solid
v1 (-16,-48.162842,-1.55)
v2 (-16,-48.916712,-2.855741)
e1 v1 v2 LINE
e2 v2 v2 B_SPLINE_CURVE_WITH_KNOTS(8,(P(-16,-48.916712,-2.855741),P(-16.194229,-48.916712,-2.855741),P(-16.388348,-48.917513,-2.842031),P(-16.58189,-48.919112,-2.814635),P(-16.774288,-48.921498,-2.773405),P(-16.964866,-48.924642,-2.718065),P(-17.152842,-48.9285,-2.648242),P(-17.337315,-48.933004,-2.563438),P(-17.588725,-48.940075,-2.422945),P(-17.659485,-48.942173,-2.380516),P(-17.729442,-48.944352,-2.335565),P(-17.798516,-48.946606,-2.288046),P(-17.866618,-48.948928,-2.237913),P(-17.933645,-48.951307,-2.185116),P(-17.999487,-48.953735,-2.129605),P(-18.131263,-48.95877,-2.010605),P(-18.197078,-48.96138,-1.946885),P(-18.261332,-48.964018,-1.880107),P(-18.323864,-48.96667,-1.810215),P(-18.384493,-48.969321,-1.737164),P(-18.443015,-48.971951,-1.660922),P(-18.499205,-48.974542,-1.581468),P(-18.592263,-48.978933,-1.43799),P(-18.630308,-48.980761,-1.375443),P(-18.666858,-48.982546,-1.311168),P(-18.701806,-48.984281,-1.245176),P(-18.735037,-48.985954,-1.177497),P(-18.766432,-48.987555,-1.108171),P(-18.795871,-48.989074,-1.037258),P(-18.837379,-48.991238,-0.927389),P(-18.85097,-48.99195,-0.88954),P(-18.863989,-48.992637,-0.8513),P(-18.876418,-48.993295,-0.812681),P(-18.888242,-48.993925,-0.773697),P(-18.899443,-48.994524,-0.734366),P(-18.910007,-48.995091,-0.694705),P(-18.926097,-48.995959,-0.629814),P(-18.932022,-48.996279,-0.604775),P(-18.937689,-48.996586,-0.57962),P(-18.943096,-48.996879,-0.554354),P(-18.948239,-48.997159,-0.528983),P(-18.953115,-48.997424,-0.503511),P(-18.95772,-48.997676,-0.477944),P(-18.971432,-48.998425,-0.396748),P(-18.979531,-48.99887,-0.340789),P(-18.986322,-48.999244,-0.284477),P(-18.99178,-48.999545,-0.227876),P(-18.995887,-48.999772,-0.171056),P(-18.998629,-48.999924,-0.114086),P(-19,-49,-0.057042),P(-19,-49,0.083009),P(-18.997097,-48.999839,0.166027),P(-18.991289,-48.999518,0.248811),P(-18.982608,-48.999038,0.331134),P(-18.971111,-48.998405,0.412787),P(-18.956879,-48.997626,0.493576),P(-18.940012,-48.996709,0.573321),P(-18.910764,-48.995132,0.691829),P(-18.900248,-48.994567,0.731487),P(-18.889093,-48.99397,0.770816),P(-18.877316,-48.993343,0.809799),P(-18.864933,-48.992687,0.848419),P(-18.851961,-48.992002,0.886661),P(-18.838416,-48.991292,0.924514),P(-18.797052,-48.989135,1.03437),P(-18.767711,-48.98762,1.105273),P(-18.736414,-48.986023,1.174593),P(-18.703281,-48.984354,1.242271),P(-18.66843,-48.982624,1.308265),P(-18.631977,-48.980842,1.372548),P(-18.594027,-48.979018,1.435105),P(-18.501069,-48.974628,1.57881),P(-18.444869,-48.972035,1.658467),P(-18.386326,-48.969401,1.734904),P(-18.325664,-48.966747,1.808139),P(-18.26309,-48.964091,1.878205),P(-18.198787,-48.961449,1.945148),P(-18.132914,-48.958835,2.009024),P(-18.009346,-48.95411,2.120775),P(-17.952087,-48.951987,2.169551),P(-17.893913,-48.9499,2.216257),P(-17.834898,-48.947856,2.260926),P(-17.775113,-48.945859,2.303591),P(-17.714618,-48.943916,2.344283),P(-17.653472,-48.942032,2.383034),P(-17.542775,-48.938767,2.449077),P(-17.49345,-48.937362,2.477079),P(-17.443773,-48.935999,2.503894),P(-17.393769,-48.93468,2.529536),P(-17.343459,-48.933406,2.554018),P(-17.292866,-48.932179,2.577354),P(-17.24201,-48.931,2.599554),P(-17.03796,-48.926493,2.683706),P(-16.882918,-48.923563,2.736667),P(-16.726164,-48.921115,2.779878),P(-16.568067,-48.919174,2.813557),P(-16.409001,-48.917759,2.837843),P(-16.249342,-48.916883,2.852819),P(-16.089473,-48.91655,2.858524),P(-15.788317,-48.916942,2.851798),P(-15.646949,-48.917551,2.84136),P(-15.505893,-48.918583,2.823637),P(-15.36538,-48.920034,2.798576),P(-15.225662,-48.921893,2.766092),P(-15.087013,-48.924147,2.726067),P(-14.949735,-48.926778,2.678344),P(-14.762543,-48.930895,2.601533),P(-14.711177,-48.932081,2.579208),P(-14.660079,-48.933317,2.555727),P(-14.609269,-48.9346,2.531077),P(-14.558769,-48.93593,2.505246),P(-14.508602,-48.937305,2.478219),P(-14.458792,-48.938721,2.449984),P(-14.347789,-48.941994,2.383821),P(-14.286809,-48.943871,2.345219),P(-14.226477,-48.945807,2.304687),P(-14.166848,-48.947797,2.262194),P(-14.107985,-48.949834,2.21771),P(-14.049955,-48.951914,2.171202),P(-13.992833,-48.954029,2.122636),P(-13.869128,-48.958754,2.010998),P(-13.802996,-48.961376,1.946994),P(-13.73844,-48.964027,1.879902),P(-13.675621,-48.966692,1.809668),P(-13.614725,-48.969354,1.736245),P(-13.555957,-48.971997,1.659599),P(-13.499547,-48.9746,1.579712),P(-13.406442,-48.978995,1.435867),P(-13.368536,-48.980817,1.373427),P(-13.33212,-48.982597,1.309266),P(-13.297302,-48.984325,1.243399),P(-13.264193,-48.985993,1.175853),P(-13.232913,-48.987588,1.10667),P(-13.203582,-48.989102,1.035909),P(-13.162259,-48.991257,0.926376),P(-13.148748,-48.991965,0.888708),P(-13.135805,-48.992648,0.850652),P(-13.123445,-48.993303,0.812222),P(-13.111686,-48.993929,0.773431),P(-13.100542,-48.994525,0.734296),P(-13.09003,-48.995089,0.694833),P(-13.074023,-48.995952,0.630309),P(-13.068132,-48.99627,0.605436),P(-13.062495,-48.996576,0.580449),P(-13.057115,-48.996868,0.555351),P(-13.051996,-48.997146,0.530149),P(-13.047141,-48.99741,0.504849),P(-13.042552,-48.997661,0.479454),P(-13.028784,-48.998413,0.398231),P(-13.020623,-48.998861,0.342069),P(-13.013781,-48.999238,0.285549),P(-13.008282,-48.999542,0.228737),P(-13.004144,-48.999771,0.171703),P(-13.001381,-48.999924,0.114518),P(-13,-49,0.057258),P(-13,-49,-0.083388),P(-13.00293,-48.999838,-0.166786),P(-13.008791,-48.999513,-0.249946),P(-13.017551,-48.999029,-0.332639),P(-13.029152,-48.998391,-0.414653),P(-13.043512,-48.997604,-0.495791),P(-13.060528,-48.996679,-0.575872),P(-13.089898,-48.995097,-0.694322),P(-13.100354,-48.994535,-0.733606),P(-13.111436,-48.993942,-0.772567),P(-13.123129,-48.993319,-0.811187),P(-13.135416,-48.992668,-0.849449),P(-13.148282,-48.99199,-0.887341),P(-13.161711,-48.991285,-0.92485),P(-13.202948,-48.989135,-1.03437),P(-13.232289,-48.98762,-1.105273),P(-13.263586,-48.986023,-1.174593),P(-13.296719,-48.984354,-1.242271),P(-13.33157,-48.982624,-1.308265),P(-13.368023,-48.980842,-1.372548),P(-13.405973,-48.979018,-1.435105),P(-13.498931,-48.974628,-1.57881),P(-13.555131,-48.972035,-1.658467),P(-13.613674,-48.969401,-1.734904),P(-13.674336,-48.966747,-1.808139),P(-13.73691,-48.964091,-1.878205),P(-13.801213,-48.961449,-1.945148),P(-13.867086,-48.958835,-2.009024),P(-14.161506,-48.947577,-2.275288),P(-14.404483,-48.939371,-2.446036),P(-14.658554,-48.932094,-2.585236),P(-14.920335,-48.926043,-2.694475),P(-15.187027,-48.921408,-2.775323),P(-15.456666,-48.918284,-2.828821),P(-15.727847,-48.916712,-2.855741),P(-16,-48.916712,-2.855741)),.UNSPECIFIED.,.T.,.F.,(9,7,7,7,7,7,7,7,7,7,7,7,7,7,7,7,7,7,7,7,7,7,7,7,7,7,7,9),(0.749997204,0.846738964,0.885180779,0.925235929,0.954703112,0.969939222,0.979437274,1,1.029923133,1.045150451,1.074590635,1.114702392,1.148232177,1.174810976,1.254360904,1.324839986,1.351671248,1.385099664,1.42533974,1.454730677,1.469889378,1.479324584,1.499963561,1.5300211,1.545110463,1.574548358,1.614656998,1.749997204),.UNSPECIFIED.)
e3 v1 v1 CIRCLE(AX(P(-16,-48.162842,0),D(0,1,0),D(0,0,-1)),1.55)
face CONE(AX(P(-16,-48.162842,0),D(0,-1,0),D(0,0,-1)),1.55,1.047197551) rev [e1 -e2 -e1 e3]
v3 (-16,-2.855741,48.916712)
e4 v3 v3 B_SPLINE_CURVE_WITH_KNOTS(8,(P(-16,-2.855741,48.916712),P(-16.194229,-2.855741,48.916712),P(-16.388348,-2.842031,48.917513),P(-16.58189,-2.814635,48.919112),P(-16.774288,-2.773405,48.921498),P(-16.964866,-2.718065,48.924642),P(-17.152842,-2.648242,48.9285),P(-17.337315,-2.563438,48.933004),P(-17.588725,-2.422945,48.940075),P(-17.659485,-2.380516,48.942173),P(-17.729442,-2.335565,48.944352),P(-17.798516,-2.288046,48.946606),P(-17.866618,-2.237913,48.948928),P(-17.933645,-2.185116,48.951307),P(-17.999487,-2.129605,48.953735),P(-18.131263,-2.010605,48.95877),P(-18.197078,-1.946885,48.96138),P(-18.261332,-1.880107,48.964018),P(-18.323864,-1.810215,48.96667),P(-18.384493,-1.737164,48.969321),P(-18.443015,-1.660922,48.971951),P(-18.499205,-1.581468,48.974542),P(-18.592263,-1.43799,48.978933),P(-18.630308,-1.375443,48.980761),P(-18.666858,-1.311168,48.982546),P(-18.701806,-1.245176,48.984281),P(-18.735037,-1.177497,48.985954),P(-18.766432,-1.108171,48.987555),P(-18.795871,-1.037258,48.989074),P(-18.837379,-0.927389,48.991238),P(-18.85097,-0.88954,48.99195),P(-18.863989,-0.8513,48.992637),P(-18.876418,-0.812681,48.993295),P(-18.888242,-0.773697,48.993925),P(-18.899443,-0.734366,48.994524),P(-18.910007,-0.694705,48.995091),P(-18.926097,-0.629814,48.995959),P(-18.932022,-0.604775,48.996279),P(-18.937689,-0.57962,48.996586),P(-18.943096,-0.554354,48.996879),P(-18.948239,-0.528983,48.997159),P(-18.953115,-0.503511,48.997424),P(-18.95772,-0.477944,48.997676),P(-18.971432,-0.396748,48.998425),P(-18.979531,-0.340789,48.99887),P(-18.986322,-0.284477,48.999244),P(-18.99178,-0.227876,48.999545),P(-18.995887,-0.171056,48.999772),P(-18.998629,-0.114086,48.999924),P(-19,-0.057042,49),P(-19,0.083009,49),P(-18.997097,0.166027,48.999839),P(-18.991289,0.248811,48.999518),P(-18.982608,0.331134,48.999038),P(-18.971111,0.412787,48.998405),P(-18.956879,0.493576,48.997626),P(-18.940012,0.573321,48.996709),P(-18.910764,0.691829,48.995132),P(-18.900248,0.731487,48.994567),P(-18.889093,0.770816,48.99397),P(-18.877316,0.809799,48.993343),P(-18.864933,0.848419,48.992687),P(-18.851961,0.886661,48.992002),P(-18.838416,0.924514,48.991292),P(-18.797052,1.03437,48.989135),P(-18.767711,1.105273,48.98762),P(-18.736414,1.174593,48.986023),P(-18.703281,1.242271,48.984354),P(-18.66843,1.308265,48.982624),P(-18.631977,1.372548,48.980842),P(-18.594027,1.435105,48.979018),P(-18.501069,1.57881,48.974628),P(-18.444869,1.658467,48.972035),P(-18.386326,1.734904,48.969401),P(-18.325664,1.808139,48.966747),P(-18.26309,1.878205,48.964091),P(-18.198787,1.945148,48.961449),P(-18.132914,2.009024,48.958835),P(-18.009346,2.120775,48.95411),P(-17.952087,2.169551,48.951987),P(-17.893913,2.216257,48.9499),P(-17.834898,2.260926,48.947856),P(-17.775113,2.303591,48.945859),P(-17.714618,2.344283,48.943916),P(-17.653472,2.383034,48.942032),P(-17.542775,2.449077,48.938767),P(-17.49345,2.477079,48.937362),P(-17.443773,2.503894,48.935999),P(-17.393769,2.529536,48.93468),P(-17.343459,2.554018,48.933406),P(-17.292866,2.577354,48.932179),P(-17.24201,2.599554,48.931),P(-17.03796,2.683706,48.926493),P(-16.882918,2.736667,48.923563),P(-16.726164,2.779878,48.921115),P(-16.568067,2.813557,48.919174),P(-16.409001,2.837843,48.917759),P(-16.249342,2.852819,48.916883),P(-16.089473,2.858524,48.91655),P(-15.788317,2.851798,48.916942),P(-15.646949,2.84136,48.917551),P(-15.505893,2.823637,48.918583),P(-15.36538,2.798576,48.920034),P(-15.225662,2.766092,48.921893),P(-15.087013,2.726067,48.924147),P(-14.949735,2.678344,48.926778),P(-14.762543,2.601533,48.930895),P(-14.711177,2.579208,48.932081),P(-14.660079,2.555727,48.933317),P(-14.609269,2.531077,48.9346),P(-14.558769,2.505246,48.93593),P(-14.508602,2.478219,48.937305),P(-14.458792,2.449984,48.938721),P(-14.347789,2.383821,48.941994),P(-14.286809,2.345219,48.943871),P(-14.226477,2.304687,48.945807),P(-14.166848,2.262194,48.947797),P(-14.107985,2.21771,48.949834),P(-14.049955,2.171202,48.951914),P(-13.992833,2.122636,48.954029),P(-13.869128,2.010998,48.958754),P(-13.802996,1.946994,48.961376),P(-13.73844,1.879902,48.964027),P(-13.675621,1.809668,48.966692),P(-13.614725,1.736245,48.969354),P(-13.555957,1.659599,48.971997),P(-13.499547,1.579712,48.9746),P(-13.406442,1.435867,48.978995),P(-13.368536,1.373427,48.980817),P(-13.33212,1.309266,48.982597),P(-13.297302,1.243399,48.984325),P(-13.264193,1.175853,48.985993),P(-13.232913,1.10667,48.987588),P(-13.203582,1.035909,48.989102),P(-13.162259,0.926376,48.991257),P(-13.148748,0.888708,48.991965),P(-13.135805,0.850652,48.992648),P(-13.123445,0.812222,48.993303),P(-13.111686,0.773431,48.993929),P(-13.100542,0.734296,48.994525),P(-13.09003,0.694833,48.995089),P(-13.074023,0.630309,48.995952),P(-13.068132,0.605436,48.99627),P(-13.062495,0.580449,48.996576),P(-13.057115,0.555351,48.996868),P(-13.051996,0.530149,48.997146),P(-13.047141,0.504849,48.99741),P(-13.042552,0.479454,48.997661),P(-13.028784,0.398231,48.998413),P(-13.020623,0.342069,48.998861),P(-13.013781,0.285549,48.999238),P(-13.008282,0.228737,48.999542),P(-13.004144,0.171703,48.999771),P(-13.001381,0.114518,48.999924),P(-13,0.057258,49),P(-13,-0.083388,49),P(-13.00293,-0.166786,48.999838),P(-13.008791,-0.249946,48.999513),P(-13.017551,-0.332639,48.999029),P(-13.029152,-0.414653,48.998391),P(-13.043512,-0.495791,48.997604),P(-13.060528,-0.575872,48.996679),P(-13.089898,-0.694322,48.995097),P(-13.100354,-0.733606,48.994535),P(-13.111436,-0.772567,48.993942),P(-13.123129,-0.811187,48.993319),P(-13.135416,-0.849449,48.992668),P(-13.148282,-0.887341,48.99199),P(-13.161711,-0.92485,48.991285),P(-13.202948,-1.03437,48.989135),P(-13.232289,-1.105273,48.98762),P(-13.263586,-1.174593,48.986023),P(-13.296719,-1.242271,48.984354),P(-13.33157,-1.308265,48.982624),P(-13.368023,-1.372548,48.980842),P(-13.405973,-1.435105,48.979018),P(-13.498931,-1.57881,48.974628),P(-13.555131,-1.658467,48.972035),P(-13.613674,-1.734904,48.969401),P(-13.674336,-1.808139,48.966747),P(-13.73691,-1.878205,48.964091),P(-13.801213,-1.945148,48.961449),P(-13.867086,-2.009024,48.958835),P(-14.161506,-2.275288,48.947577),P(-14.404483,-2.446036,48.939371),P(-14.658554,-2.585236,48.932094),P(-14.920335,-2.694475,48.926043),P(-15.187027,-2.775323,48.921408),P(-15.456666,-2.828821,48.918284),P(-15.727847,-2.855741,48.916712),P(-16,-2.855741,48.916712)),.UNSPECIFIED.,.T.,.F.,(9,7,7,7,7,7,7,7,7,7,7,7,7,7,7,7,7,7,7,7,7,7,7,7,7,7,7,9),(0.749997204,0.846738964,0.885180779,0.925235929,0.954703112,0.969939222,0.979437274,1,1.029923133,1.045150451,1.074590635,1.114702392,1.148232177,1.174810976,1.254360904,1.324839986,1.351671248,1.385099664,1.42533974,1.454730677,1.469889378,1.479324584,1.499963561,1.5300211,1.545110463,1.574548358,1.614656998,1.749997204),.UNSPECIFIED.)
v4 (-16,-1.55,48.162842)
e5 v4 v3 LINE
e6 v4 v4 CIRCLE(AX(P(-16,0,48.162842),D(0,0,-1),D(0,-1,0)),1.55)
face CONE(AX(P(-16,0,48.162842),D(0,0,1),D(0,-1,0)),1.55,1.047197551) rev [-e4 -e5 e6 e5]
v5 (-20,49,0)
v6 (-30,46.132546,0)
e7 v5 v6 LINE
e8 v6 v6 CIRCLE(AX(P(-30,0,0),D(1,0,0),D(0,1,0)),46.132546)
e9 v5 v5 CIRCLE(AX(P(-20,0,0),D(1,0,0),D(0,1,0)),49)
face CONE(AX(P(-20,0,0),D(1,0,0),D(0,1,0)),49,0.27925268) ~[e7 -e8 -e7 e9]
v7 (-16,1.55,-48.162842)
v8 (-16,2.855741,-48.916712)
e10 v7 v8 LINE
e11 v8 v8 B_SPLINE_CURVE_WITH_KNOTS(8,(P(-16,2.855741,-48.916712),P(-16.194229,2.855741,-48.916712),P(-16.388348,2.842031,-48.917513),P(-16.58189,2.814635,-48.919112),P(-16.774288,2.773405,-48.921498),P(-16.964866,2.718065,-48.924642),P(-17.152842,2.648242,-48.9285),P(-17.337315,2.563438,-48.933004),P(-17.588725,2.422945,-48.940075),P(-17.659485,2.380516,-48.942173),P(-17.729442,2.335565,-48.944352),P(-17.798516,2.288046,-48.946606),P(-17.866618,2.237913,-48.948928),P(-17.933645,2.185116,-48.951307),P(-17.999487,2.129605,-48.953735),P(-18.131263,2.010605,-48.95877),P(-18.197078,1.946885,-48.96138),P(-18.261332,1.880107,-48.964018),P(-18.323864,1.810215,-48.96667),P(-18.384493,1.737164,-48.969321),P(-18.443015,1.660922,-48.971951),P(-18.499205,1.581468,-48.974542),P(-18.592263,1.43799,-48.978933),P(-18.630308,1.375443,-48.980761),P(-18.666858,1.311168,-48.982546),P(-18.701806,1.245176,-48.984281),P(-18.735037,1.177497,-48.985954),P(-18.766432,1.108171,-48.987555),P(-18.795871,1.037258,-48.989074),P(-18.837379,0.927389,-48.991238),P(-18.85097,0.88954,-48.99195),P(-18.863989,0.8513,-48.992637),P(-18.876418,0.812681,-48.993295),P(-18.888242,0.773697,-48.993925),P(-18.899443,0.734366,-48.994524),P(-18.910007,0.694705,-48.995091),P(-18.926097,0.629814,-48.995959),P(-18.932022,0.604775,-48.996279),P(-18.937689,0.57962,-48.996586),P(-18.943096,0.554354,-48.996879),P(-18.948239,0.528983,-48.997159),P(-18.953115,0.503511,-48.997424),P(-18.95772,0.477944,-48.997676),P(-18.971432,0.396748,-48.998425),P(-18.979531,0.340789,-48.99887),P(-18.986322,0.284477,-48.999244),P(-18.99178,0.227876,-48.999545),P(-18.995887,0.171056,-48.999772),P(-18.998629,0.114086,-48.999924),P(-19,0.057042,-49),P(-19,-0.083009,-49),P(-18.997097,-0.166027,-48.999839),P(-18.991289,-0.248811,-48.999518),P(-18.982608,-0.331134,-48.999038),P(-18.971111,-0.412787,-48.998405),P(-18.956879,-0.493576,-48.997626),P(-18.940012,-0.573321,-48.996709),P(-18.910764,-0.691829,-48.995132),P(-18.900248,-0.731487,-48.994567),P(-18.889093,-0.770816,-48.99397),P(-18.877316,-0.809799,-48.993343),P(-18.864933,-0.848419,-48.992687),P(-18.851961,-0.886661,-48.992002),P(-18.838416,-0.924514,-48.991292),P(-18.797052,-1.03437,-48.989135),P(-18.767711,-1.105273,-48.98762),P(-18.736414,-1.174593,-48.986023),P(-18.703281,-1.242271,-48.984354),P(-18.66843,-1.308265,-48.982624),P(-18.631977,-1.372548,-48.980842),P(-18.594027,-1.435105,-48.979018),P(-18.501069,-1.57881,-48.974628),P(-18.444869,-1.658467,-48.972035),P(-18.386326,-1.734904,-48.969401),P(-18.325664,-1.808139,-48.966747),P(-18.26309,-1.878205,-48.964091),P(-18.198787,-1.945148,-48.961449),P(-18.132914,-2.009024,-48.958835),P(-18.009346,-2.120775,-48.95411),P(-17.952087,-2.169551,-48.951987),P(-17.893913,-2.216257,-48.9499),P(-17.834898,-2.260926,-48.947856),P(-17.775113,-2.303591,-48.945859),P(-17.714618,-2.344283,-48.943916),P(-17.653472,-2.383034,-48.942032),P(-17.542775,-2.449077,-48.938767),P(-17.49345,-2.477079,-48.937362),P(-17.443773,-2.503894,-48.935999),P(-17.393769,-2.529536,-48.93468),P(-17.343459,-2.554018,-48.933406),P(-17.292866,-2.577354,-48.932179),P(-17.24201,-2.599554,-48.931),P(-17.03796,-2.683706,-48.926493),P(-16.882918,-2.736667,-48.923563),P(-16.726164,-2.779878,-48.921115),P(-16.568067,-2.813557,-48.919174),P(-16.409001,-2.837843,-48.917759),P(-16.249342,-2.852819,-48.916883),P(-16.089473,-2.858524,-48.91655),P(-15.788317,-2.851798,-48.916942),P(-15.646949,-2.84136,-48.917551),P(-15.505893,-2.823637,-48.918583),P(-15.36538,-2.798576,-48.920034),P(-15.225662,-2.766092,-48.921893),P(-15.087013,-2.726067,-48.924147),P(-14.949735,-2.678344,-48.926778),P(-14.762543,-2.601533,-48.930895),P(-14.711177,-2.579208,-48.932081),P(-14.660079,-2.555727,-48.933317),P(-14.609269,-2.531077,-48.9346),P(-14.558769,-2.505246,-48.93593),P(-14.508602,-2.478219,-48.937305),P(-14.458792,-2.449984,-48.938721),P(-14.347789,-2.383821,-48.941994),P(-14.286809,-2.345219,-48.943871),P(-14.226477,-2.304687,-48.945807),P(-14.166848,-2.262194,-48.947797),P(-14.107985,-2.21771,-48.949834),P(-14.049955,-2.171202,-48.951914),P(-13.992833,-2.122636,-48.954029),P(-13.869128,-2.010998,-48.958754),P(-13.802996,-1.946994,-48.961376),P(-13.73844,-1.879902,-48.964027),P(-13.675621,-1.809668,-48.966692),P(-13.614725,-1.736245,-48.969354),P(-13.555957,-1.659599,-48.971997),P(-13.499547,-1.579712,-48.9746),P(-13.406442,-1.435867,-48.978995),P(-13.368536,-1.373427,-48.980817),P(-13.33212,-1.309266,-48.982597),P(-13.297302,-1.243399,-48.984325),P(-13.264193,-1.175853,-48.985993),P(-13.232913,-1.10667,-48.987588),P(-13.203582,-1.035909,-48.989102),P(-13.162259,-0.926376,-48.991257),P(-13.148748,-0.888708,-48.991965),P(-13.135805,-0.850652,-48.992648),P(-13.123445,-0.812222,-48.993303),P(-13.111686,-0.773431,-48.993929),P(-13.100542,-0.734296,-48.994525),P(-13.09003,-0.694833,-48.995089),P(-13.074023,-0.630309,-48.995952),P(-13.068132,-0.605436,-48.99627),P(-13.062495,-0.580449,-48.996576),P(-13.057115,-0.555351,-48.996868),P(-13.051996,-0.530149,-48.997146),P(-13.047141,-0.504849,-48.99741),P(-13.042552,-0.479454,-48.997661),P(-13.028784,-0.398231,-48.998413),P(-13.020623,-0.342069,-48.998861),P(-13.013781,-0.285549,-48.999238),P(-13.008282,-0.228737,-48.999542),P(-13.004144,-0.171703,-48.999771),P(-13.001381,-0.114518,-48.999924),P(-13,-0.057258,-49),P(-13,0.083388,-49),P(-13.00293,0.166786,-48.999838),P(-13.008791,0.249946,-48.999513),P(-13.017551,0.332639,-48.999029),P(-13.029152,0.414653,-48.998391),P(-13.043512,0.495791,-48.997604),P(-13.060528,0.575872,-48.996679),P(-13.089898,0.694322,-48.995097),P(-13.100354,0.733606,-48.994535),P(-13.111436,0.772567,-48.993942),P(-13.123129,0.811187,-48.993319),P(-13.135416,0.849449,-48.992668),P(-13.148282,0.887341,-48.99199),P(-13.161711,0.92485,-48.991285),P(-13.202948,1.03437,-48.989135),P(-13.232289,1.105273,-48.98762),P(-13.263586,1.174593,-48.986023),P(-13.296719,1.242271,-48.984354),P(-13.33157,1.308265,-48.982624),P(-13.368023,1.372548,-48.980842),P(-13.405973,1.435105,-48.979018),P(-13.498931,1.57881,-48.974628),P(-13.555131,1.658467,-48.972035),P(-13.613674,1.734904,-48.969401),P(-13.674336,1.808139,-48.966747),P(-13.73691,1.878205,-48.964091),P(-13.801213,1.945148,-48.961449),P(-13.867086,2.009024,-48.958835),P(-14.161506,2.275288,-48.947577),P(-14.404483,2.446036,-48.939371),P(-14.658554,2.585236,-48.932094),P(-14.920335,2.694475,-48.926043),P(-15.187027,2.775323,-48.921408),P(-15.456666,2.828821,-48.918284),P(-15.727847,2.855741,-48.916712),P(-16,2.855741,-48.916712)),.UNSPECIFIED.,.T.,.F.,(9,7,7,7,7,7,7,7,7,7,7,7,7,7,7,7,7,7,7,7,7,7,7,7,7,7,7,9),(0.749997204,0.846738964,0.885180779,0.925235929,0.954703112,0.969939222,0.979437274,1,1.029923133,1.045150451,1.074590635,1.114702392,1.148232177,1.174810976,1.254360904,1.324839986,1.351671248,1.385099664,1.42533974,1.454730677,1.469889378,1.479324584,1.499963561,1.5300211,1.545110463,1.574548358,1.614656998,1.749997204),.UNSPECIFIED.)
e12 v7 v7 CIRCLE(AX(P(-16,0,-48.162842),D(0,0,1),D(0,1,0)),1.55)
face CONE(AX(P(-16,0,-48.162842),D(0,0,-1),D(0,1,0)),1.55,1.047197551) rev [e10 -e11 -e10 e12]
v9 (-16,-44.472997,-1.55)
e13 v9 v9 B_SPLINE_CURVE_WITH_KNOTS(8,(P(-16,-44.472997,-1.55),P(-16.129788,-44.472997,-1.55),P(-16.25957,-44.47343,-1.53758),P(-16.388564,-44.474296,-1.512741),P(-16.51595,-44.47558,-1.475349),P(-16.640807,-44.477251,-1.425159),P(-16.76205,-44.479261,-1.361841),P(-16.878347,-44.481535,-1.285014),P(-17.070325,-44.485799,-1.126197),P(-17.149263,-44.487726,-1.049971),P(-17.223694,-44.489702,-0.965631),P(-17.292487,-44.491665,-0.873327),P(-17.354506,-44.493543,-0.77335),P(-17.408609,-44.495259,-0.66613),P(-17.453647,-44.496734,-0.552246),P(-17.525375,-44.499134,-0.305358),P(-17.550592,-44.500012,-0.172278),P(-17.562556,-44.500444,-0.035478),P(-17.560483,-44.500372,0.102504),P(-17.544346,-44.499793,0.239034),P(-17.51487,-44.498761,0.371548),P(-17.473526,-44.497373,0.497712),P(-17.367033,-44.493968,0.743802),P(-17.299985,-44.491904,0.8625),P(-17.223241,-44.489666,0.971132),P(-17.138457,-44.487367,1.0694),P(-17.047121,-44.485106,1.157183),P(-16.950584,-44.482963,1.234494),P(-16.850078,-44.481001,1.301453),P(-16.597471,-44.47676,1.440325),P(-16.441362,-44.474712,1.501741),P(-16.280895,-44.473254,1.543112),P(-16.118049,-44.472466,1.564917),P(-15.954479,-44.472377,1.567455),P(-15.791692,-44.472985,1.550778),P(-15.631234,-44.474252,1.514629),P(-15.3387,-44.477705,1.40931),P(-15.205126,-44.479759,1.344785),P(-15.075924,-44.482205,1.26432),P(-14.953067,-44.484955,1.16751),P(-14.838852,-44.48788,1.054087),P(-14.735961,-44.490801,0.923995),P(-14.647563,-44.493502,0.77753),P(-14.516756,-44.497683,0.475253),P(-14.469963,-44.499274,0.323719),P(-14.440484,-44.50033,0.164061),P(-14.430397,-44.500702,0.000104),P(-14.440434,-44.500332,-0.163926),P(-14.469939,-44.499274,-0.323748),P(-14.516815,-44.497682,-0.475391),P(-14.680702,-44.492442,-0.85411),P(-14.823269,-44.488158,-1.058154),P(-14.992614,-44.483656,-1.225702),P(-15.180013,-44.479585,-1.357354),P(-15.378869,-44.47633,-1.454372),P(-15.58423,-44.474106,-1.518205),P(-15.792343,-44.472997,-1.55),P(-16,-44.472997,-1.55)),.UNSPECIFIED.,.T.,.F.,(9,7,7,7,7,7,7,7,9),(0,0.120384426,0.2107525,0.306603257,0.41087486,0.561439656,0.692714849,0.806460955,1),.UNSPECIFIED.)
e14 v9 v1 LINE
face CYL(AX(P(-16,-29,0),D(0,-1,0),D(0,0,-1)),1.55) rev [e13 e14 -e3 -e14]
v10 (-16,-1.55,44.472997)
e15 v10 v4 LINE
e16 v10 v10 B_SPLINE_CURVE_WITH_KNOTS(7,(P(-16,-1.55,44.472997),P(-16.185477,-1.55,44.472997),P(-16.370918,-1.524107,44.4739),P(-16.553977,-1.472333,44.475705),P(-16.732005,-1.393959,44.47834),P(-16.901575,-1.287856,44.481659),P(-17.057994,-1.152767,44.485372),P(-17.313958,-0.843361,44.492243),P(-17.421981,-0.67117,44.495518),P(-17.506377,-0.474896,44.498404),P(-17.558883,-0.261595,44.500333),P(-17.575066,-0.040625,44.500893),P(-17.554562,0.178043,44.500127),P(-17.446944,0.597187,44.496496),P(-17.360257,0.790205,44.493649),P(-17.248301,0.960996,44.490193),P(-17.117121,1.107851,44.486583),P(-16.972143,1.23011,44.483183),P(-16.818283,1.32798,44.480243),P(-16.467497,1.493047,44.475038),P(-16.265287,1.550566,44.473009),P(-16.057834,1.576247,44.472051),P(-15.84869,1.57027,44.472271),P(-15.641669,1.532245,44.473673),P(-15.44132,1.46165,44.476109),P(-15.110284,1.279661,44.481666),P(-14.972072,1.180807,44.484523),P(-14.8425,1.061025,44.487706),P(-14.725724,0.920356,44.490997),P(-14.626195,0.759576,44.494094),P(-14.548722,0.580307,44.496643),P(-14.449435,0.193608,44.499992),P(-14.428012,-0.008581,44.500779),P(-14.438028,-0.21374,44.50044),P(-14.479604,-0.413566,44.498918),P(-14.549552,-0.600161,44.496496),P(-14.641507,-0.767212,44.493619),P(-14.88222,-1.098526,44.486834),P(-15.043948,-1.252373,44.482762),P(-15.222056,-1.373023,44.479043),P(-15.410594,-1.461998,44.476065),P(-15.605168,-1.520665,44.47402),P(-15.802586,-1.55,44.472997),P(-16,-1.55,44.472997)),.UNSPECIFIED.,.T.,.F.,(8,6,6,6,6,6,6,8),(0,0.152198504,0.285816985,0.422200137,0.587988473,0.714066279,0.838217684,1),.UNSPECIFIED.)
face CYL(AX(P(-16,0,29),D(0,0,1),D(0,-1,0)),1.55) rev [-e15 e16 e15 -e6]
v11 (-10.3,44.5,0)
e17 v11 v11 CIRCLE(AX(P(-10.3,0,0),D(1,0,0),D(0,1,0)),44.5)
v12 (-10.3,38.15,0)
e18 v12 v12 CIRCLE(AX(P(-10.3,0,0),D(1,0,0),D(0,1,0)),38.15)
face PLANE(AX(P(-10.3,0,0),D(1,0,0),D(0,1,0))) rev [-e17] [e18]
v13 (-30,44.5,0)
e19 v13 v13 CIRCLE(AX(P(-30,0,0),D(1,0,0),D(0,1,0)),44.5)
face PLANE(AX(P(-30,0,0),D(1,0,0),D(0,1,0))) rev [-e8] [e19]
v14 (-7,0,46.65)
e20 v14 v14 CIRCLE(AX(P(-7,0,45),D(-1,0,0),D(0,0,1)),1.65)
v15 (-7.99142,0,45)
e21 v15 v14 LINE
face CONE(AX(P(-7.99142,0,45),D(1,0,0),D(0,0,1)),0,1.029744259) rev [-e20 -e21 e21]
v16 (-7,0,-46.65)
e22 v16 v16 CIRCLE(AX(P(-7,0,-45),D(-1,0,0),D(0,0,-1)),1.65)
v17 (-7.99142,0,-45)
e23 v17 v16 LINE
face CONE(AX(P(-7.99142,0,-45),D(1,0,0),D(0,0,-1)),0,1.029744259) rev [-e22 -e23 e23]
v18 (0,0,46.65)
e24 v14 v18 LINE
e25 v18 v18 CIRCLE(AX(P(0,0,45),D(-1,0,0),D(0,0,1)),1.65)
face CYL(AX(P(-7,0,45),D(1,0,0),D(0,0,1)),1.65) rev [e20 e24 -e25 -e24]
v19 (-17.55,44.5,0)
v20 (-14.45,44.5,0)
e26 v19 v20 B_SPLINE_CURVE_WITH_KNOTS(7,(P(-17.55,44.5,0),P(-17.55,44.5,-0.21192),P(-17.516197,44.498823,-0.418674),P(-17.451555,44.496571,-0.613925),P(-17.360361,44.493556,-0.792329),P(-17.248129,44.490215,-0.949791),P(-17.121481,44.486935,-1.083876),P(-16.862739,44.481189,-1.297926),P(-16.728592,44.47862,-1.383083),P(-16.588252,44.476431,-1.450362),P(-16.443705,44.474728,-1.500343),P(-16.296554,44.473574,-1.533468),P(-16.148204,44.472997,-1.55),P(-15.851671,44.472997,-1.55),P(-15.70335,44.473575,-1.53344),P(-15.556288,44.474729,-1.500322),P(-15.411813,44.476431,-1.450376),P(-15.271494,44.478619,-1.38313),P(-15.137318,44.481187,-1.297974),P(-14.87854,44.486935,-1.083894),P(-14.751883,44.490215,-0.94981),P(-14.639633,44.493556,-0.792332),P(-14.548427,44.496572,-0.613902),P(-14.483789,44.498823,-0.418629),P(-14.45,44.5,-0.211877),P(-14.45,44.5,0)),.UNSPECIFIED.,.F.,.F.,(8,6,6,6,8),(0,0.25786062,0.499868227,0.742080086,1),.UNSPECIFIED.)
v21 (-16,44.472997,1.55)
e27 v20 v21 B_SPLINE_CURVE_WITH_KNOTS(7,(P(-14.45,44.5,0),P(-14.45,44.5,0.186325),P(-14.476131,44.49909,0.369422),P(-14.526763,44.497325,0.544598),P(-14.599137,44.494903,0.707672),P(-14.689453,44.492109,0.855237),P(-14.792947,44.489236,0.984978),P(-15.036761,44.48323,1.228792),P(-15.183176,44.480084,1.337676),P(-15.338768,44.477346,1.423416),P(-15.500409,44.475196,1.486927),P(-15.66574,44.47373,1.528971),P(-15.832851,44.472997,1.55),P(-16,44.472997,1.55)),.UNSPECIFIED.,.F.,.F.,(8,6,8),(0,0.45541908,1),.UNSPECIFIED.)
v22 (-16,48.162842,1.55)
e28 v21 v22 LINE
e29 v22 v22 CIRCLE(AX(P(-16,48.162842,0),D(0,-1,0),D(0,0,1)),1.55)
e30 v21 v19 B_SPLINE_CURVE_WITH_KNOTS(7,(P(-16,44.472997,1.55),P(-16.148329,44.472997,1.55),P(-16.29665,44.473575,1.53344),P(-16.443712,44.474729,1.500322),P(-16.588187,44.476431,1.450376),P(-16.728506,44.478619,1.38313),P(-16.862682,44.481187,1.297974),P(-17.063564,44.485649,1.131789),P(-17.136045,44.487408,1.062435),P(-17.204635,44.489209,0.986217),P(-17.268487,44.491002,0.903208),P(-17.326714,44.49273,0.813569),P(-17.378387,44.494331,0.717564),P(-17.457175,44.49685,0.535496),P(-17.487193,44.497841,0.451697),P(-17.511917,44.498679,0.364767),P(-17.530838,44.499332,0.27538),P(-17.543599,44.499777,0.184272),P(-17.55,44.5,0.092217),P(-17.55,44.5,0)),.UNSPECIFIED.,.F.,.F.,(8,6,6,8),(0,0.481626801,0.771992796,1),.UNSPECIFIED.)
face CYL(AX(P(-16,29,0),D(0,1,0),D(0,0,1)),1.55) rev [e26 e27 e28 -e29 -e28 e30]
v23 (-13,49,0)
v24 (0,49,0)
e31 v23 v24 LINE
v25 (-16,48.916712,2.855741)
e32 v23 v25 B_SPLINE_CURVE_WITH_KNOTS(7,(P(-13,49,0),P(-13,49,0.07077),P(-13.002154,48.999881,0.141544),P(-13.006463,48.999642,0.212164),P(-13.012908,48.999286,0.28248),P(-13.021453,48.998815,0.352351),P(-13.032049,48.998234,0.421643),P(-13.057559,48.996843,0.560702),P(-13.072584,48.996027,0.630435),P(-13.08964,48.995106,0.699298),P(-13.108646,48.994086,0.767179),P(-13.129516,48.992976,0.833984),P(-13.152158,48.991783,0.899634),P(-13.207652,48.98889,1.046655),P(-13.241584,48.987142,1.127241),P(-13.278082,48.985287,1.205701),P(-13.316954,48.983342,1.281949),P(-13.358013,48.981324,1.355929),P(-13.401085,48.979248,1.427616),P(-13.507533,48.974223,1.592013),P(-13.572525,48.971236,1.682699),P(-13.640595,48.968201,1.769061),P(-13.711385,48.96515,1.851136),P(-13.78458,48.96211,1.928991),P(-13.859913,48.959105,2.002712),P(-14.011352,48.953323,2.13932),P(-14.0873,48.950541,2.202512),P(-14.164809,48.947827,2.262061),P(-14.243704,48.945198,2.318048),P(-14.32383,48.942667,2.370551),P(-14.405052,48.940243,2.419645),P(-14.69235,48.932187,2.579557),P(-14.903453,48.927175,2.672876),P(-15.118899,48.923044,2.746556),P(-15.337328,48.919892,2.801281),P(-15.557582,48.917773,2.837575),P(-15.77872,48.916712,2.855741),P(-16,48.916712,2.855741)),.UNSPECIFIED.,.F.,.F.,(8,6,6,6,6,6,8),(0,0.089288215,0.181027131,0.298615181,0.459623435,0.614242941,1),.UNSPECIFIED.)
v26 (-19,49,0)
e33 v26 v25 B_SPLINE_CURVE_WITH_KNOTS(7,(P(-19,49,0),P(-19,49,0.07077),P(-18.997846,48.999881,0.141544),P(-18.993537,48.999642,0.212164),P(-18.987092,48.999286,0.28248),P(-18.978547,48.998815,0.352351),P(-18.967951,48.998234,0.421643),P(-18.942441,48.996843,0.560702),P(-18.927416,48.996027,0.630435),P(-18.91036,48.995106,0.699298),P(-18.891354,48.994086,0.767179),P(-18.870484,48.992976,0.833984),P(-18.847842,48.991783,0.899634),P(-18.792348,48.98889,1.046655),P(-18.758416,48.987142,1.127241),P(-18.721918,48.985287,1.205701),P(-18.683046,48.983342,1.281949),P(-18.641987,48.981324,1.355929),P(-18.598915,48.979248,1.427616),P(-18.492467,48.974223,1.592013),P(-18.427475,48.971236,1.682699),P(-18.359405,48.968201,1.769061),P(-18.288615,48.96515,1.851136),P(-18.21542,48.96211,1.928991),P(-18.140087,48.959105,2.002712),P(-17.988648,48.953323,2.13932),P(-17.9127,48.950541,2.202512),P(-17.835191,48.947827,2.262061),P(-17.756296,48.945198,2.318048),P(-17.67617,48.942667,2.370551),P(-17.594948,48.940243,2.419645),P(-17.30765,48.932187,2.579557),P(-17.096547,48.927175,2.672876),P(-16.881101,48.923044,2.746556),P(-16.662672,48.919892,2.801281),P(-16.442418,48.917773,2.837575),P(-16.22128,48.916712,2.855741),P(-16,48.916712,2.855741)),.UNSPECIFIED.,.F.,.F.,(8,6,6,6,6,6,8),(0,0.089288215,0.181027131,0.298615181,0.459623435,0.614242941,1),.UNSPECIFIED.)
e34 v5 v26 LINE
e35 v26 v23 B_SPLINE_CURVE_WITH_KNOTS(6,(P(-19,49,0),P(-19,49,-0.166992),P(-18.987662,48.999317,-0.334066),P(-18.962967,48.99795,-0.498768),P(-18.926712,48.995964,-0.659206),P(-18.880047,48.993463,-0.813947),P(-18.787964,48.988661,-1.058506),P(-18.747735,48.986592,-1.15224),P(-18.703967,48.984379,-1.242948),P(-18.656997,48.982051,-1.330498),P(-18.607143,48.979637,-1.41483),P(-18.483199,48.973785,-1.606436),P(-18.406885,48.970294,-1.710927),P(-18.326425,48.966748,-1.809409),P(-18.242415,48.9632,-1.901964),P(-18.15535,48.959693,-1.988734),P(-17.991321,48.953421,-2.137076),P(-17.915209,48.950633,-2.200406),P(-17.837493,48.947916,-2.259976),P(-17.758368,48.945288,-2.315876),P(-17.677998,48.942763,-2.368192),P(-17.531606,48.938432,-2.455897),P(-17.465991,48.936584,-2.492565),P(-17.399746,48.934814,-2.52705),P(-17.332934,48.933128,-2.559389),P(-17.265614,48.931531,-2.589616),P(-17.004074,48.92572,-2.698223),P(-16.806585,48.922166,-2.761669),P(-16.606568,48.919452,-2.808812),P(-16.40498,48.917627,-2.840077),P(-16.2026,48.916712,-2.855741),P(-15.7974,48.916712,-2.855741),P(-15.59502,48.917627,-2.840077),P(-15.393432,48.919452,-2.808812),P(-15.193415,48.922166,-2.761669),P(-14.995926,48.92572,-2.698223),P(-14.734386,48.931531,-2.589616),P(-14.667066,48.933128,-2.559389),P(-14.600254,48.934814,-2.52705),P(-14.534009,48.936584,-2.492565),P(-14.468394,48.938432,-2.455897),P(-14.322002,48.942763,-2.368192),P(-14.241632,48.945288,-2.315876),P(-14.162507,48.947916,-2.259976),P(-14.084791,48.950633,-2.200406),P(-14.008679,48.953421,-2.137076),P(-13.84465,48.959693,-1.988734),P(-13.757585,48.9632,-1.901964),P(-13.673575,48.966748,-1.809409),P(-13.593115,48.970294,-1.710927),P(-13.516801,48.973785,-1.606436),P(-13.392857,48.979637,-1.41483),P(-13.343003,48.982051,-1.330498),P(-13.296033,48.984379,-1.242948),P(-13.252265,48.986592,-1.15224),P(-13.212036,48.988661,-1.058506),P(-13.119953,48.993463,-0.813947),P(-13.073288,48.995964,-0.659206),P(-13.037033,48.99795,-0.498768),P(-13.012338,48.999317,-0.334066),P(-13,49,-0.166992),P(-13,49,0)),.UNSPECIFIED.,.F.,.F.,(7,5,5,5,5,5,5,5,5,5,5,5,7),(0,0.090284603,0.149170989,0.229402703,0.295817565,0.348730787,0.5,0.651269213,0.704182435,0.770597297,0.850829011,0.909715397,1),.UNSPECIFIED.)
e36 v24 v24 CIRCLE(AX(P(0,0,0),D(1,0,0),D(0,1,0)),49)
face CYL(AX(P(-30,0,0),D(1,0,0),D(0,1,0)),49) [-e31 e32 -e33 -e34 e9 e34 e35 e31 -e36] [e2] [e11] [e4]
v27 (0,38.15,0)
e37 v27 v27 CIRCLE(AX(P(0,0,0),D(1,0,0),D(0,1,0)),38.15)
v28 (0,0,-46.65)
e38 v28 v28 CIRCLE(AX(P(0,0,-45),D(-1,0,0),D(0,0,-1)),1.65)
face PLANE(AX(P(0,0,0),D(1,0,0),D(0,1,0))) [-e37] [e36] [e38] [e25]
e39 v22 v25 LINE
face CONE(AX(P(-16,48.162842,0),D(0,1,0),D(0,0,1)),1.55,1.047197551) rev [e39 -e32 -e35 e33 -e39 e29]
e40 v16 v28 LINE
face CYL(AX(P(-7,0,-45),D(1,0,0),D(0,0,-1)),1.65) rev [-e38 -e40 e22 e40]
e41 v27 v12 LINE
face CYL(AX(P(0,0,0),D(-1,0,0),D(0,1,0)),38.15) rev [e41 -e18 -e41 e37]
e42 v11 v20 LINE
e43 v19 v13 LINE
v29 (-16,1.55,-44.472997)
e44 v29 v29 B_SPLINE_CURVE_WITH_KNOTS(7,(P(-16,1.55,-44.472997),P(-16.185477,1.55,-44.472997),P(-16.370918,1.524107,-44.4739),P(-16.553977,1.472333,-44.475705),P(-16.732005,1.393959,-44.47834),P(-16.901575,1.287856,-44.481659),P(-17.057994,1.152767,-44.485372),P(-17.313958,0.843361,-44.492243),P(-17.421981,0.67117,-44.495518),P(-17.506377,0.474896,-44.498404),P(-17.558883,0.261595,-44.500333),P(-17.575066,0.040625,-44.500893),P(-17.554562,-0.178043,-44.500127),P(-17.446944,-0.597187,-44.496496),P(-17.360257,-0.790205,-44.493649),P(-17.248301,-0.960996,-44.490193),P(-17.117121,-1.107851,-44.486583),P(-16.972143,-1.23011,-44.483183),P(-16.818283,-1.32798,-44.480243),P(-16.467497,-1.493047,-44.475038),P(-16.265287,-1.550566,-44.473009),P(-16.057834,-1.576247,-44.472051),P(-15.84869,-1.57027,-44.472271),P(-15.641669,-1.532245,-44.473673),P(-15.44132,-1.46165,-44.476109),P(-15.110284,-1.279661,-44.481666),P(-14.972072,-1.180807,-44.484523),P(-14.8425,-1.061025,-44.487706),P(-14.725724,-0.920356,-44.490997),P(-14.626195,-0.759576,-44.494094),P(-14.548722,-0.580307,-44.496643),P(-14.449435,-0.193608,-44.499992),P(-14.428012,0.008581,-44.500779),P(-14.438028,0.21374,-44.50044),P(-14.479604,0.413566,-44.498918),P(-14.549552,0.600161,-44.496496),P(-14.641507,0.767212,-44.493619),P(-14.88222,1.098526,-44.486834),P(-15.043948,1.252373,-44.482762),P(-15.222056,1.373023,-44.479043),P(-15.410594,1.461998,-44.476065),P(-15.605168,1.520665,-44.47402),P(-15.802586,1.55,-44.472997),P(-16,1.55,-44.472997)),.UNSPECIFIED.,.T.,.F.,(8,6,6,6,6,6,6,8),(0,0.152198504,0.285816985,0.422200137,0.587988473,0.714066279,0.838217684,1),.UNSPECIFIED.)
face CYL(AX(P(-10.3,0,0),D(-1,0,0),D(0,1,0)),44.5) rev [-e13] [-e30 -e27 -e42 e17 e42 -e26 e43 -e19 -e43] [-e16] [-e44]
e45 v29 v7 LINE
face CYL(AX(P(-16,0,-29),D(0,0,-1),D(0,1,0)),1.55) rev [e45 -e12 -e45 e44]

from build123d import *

# Parameters (mm, degrees)
CHANFREIN1_SIZE              = 10
CHANFREIN1_SIZE2             = 2.867453858
R_P_TITION_CIRCULAIRE1_COUNT = 2
R_P_TITION_CIRCULAIRE2_COUNT = 4


with BuildPart() as part:
    # Esquisse1 → Révolution1 (revolve)
    with BuildSketch(Plane.XY):
        Polygon((0, 49), (0, 38.15), (-10.3, 38.15), (-10.3, 44.5), (-30, 44.5), (-30, 49), align=None)
    revolve(axis=Axis((-37.547636856, 0, 0), (1, 0, 0)))

    # Chanfrein1
    chanfrein1_edges = [part.edges().sort_by_distance(p)[0] for p in [
        (-30, -49, 0),
    ]]
    chanfrein1_side = [part.faces().sort_by_distance(p)[0] for p in [
        (-15, -49, 0),
    ]]
    chamfer(chanfrein1_edges, length=CHANFREIN1_SIZE, length2=CHANFREIN1_SIZE2, reference=chanfrein1_side[0])

    # Esquisse6 → Trou taraudé M41 (revolve, cut)
    with BuildSketch(Plane(origin=(0, 0, -45), x_dir=(0, 0, -1), z_dir=(0, 1, 0))):
        Polygon((0, 0), (0, 7.991420021), (1.65, 7), (1.65, 0), align=None)
    trou_taraud_m41 = revolve(axis=Axis((6.35, 0, -45), (-1, 0, 0)), mode=Mode.SUBTRACT)

    # Répétition circulaire1: Trou taraudé M41 ×2 about axis
    r_p_tition_circulaire1_axis = Axis((0, 0, 0), (1, 0, 0))
    for i in range(1, R_P_TITION_CIRCULAIRE1_COUNT):
        add(trou_taraud_m41.rotate(r_p_tition_circulaire1_axis, i * 360 / R_P_TITION_CIRCULAIRE1_COUNT), mode=Mode.SUBTRACT)

    # Esquisse8 → Dégagement M2.51 (revolve, cut)
    with BuildSketch(Plane(origin=(-16, 0, -49), x_dir=(0, 1, 0), z_dir=(1, 0, 0))):
        Polygon((0, 0), (0, 20.931333959), (1.55, 20), (1.55, 0.83715789), (3, 0), align=None)
    d_gagement_m2_51 = revolve(axis=Axis((-16, 0, -55.35), (0, 0, 1)), mode=Mode.SUBTRACT)

    # Répétition circulaire2: Dégagement M2.51 ×4 about axis
    r_p_tition_circulaire2_axis = Axis((0, 0, 0), (-1, 0, 0))
    for i in range(1, R_P_TITION_CIRCULAIRE2_COUNT):
        add(d_gagement_m2_51.rotate(r_p_tition_circulaire2_axis, i * 360 / R_P_TITION_CIRCULAIRE2_COUNT), mode=Mode.SUBTRACT)


solid = part.part
